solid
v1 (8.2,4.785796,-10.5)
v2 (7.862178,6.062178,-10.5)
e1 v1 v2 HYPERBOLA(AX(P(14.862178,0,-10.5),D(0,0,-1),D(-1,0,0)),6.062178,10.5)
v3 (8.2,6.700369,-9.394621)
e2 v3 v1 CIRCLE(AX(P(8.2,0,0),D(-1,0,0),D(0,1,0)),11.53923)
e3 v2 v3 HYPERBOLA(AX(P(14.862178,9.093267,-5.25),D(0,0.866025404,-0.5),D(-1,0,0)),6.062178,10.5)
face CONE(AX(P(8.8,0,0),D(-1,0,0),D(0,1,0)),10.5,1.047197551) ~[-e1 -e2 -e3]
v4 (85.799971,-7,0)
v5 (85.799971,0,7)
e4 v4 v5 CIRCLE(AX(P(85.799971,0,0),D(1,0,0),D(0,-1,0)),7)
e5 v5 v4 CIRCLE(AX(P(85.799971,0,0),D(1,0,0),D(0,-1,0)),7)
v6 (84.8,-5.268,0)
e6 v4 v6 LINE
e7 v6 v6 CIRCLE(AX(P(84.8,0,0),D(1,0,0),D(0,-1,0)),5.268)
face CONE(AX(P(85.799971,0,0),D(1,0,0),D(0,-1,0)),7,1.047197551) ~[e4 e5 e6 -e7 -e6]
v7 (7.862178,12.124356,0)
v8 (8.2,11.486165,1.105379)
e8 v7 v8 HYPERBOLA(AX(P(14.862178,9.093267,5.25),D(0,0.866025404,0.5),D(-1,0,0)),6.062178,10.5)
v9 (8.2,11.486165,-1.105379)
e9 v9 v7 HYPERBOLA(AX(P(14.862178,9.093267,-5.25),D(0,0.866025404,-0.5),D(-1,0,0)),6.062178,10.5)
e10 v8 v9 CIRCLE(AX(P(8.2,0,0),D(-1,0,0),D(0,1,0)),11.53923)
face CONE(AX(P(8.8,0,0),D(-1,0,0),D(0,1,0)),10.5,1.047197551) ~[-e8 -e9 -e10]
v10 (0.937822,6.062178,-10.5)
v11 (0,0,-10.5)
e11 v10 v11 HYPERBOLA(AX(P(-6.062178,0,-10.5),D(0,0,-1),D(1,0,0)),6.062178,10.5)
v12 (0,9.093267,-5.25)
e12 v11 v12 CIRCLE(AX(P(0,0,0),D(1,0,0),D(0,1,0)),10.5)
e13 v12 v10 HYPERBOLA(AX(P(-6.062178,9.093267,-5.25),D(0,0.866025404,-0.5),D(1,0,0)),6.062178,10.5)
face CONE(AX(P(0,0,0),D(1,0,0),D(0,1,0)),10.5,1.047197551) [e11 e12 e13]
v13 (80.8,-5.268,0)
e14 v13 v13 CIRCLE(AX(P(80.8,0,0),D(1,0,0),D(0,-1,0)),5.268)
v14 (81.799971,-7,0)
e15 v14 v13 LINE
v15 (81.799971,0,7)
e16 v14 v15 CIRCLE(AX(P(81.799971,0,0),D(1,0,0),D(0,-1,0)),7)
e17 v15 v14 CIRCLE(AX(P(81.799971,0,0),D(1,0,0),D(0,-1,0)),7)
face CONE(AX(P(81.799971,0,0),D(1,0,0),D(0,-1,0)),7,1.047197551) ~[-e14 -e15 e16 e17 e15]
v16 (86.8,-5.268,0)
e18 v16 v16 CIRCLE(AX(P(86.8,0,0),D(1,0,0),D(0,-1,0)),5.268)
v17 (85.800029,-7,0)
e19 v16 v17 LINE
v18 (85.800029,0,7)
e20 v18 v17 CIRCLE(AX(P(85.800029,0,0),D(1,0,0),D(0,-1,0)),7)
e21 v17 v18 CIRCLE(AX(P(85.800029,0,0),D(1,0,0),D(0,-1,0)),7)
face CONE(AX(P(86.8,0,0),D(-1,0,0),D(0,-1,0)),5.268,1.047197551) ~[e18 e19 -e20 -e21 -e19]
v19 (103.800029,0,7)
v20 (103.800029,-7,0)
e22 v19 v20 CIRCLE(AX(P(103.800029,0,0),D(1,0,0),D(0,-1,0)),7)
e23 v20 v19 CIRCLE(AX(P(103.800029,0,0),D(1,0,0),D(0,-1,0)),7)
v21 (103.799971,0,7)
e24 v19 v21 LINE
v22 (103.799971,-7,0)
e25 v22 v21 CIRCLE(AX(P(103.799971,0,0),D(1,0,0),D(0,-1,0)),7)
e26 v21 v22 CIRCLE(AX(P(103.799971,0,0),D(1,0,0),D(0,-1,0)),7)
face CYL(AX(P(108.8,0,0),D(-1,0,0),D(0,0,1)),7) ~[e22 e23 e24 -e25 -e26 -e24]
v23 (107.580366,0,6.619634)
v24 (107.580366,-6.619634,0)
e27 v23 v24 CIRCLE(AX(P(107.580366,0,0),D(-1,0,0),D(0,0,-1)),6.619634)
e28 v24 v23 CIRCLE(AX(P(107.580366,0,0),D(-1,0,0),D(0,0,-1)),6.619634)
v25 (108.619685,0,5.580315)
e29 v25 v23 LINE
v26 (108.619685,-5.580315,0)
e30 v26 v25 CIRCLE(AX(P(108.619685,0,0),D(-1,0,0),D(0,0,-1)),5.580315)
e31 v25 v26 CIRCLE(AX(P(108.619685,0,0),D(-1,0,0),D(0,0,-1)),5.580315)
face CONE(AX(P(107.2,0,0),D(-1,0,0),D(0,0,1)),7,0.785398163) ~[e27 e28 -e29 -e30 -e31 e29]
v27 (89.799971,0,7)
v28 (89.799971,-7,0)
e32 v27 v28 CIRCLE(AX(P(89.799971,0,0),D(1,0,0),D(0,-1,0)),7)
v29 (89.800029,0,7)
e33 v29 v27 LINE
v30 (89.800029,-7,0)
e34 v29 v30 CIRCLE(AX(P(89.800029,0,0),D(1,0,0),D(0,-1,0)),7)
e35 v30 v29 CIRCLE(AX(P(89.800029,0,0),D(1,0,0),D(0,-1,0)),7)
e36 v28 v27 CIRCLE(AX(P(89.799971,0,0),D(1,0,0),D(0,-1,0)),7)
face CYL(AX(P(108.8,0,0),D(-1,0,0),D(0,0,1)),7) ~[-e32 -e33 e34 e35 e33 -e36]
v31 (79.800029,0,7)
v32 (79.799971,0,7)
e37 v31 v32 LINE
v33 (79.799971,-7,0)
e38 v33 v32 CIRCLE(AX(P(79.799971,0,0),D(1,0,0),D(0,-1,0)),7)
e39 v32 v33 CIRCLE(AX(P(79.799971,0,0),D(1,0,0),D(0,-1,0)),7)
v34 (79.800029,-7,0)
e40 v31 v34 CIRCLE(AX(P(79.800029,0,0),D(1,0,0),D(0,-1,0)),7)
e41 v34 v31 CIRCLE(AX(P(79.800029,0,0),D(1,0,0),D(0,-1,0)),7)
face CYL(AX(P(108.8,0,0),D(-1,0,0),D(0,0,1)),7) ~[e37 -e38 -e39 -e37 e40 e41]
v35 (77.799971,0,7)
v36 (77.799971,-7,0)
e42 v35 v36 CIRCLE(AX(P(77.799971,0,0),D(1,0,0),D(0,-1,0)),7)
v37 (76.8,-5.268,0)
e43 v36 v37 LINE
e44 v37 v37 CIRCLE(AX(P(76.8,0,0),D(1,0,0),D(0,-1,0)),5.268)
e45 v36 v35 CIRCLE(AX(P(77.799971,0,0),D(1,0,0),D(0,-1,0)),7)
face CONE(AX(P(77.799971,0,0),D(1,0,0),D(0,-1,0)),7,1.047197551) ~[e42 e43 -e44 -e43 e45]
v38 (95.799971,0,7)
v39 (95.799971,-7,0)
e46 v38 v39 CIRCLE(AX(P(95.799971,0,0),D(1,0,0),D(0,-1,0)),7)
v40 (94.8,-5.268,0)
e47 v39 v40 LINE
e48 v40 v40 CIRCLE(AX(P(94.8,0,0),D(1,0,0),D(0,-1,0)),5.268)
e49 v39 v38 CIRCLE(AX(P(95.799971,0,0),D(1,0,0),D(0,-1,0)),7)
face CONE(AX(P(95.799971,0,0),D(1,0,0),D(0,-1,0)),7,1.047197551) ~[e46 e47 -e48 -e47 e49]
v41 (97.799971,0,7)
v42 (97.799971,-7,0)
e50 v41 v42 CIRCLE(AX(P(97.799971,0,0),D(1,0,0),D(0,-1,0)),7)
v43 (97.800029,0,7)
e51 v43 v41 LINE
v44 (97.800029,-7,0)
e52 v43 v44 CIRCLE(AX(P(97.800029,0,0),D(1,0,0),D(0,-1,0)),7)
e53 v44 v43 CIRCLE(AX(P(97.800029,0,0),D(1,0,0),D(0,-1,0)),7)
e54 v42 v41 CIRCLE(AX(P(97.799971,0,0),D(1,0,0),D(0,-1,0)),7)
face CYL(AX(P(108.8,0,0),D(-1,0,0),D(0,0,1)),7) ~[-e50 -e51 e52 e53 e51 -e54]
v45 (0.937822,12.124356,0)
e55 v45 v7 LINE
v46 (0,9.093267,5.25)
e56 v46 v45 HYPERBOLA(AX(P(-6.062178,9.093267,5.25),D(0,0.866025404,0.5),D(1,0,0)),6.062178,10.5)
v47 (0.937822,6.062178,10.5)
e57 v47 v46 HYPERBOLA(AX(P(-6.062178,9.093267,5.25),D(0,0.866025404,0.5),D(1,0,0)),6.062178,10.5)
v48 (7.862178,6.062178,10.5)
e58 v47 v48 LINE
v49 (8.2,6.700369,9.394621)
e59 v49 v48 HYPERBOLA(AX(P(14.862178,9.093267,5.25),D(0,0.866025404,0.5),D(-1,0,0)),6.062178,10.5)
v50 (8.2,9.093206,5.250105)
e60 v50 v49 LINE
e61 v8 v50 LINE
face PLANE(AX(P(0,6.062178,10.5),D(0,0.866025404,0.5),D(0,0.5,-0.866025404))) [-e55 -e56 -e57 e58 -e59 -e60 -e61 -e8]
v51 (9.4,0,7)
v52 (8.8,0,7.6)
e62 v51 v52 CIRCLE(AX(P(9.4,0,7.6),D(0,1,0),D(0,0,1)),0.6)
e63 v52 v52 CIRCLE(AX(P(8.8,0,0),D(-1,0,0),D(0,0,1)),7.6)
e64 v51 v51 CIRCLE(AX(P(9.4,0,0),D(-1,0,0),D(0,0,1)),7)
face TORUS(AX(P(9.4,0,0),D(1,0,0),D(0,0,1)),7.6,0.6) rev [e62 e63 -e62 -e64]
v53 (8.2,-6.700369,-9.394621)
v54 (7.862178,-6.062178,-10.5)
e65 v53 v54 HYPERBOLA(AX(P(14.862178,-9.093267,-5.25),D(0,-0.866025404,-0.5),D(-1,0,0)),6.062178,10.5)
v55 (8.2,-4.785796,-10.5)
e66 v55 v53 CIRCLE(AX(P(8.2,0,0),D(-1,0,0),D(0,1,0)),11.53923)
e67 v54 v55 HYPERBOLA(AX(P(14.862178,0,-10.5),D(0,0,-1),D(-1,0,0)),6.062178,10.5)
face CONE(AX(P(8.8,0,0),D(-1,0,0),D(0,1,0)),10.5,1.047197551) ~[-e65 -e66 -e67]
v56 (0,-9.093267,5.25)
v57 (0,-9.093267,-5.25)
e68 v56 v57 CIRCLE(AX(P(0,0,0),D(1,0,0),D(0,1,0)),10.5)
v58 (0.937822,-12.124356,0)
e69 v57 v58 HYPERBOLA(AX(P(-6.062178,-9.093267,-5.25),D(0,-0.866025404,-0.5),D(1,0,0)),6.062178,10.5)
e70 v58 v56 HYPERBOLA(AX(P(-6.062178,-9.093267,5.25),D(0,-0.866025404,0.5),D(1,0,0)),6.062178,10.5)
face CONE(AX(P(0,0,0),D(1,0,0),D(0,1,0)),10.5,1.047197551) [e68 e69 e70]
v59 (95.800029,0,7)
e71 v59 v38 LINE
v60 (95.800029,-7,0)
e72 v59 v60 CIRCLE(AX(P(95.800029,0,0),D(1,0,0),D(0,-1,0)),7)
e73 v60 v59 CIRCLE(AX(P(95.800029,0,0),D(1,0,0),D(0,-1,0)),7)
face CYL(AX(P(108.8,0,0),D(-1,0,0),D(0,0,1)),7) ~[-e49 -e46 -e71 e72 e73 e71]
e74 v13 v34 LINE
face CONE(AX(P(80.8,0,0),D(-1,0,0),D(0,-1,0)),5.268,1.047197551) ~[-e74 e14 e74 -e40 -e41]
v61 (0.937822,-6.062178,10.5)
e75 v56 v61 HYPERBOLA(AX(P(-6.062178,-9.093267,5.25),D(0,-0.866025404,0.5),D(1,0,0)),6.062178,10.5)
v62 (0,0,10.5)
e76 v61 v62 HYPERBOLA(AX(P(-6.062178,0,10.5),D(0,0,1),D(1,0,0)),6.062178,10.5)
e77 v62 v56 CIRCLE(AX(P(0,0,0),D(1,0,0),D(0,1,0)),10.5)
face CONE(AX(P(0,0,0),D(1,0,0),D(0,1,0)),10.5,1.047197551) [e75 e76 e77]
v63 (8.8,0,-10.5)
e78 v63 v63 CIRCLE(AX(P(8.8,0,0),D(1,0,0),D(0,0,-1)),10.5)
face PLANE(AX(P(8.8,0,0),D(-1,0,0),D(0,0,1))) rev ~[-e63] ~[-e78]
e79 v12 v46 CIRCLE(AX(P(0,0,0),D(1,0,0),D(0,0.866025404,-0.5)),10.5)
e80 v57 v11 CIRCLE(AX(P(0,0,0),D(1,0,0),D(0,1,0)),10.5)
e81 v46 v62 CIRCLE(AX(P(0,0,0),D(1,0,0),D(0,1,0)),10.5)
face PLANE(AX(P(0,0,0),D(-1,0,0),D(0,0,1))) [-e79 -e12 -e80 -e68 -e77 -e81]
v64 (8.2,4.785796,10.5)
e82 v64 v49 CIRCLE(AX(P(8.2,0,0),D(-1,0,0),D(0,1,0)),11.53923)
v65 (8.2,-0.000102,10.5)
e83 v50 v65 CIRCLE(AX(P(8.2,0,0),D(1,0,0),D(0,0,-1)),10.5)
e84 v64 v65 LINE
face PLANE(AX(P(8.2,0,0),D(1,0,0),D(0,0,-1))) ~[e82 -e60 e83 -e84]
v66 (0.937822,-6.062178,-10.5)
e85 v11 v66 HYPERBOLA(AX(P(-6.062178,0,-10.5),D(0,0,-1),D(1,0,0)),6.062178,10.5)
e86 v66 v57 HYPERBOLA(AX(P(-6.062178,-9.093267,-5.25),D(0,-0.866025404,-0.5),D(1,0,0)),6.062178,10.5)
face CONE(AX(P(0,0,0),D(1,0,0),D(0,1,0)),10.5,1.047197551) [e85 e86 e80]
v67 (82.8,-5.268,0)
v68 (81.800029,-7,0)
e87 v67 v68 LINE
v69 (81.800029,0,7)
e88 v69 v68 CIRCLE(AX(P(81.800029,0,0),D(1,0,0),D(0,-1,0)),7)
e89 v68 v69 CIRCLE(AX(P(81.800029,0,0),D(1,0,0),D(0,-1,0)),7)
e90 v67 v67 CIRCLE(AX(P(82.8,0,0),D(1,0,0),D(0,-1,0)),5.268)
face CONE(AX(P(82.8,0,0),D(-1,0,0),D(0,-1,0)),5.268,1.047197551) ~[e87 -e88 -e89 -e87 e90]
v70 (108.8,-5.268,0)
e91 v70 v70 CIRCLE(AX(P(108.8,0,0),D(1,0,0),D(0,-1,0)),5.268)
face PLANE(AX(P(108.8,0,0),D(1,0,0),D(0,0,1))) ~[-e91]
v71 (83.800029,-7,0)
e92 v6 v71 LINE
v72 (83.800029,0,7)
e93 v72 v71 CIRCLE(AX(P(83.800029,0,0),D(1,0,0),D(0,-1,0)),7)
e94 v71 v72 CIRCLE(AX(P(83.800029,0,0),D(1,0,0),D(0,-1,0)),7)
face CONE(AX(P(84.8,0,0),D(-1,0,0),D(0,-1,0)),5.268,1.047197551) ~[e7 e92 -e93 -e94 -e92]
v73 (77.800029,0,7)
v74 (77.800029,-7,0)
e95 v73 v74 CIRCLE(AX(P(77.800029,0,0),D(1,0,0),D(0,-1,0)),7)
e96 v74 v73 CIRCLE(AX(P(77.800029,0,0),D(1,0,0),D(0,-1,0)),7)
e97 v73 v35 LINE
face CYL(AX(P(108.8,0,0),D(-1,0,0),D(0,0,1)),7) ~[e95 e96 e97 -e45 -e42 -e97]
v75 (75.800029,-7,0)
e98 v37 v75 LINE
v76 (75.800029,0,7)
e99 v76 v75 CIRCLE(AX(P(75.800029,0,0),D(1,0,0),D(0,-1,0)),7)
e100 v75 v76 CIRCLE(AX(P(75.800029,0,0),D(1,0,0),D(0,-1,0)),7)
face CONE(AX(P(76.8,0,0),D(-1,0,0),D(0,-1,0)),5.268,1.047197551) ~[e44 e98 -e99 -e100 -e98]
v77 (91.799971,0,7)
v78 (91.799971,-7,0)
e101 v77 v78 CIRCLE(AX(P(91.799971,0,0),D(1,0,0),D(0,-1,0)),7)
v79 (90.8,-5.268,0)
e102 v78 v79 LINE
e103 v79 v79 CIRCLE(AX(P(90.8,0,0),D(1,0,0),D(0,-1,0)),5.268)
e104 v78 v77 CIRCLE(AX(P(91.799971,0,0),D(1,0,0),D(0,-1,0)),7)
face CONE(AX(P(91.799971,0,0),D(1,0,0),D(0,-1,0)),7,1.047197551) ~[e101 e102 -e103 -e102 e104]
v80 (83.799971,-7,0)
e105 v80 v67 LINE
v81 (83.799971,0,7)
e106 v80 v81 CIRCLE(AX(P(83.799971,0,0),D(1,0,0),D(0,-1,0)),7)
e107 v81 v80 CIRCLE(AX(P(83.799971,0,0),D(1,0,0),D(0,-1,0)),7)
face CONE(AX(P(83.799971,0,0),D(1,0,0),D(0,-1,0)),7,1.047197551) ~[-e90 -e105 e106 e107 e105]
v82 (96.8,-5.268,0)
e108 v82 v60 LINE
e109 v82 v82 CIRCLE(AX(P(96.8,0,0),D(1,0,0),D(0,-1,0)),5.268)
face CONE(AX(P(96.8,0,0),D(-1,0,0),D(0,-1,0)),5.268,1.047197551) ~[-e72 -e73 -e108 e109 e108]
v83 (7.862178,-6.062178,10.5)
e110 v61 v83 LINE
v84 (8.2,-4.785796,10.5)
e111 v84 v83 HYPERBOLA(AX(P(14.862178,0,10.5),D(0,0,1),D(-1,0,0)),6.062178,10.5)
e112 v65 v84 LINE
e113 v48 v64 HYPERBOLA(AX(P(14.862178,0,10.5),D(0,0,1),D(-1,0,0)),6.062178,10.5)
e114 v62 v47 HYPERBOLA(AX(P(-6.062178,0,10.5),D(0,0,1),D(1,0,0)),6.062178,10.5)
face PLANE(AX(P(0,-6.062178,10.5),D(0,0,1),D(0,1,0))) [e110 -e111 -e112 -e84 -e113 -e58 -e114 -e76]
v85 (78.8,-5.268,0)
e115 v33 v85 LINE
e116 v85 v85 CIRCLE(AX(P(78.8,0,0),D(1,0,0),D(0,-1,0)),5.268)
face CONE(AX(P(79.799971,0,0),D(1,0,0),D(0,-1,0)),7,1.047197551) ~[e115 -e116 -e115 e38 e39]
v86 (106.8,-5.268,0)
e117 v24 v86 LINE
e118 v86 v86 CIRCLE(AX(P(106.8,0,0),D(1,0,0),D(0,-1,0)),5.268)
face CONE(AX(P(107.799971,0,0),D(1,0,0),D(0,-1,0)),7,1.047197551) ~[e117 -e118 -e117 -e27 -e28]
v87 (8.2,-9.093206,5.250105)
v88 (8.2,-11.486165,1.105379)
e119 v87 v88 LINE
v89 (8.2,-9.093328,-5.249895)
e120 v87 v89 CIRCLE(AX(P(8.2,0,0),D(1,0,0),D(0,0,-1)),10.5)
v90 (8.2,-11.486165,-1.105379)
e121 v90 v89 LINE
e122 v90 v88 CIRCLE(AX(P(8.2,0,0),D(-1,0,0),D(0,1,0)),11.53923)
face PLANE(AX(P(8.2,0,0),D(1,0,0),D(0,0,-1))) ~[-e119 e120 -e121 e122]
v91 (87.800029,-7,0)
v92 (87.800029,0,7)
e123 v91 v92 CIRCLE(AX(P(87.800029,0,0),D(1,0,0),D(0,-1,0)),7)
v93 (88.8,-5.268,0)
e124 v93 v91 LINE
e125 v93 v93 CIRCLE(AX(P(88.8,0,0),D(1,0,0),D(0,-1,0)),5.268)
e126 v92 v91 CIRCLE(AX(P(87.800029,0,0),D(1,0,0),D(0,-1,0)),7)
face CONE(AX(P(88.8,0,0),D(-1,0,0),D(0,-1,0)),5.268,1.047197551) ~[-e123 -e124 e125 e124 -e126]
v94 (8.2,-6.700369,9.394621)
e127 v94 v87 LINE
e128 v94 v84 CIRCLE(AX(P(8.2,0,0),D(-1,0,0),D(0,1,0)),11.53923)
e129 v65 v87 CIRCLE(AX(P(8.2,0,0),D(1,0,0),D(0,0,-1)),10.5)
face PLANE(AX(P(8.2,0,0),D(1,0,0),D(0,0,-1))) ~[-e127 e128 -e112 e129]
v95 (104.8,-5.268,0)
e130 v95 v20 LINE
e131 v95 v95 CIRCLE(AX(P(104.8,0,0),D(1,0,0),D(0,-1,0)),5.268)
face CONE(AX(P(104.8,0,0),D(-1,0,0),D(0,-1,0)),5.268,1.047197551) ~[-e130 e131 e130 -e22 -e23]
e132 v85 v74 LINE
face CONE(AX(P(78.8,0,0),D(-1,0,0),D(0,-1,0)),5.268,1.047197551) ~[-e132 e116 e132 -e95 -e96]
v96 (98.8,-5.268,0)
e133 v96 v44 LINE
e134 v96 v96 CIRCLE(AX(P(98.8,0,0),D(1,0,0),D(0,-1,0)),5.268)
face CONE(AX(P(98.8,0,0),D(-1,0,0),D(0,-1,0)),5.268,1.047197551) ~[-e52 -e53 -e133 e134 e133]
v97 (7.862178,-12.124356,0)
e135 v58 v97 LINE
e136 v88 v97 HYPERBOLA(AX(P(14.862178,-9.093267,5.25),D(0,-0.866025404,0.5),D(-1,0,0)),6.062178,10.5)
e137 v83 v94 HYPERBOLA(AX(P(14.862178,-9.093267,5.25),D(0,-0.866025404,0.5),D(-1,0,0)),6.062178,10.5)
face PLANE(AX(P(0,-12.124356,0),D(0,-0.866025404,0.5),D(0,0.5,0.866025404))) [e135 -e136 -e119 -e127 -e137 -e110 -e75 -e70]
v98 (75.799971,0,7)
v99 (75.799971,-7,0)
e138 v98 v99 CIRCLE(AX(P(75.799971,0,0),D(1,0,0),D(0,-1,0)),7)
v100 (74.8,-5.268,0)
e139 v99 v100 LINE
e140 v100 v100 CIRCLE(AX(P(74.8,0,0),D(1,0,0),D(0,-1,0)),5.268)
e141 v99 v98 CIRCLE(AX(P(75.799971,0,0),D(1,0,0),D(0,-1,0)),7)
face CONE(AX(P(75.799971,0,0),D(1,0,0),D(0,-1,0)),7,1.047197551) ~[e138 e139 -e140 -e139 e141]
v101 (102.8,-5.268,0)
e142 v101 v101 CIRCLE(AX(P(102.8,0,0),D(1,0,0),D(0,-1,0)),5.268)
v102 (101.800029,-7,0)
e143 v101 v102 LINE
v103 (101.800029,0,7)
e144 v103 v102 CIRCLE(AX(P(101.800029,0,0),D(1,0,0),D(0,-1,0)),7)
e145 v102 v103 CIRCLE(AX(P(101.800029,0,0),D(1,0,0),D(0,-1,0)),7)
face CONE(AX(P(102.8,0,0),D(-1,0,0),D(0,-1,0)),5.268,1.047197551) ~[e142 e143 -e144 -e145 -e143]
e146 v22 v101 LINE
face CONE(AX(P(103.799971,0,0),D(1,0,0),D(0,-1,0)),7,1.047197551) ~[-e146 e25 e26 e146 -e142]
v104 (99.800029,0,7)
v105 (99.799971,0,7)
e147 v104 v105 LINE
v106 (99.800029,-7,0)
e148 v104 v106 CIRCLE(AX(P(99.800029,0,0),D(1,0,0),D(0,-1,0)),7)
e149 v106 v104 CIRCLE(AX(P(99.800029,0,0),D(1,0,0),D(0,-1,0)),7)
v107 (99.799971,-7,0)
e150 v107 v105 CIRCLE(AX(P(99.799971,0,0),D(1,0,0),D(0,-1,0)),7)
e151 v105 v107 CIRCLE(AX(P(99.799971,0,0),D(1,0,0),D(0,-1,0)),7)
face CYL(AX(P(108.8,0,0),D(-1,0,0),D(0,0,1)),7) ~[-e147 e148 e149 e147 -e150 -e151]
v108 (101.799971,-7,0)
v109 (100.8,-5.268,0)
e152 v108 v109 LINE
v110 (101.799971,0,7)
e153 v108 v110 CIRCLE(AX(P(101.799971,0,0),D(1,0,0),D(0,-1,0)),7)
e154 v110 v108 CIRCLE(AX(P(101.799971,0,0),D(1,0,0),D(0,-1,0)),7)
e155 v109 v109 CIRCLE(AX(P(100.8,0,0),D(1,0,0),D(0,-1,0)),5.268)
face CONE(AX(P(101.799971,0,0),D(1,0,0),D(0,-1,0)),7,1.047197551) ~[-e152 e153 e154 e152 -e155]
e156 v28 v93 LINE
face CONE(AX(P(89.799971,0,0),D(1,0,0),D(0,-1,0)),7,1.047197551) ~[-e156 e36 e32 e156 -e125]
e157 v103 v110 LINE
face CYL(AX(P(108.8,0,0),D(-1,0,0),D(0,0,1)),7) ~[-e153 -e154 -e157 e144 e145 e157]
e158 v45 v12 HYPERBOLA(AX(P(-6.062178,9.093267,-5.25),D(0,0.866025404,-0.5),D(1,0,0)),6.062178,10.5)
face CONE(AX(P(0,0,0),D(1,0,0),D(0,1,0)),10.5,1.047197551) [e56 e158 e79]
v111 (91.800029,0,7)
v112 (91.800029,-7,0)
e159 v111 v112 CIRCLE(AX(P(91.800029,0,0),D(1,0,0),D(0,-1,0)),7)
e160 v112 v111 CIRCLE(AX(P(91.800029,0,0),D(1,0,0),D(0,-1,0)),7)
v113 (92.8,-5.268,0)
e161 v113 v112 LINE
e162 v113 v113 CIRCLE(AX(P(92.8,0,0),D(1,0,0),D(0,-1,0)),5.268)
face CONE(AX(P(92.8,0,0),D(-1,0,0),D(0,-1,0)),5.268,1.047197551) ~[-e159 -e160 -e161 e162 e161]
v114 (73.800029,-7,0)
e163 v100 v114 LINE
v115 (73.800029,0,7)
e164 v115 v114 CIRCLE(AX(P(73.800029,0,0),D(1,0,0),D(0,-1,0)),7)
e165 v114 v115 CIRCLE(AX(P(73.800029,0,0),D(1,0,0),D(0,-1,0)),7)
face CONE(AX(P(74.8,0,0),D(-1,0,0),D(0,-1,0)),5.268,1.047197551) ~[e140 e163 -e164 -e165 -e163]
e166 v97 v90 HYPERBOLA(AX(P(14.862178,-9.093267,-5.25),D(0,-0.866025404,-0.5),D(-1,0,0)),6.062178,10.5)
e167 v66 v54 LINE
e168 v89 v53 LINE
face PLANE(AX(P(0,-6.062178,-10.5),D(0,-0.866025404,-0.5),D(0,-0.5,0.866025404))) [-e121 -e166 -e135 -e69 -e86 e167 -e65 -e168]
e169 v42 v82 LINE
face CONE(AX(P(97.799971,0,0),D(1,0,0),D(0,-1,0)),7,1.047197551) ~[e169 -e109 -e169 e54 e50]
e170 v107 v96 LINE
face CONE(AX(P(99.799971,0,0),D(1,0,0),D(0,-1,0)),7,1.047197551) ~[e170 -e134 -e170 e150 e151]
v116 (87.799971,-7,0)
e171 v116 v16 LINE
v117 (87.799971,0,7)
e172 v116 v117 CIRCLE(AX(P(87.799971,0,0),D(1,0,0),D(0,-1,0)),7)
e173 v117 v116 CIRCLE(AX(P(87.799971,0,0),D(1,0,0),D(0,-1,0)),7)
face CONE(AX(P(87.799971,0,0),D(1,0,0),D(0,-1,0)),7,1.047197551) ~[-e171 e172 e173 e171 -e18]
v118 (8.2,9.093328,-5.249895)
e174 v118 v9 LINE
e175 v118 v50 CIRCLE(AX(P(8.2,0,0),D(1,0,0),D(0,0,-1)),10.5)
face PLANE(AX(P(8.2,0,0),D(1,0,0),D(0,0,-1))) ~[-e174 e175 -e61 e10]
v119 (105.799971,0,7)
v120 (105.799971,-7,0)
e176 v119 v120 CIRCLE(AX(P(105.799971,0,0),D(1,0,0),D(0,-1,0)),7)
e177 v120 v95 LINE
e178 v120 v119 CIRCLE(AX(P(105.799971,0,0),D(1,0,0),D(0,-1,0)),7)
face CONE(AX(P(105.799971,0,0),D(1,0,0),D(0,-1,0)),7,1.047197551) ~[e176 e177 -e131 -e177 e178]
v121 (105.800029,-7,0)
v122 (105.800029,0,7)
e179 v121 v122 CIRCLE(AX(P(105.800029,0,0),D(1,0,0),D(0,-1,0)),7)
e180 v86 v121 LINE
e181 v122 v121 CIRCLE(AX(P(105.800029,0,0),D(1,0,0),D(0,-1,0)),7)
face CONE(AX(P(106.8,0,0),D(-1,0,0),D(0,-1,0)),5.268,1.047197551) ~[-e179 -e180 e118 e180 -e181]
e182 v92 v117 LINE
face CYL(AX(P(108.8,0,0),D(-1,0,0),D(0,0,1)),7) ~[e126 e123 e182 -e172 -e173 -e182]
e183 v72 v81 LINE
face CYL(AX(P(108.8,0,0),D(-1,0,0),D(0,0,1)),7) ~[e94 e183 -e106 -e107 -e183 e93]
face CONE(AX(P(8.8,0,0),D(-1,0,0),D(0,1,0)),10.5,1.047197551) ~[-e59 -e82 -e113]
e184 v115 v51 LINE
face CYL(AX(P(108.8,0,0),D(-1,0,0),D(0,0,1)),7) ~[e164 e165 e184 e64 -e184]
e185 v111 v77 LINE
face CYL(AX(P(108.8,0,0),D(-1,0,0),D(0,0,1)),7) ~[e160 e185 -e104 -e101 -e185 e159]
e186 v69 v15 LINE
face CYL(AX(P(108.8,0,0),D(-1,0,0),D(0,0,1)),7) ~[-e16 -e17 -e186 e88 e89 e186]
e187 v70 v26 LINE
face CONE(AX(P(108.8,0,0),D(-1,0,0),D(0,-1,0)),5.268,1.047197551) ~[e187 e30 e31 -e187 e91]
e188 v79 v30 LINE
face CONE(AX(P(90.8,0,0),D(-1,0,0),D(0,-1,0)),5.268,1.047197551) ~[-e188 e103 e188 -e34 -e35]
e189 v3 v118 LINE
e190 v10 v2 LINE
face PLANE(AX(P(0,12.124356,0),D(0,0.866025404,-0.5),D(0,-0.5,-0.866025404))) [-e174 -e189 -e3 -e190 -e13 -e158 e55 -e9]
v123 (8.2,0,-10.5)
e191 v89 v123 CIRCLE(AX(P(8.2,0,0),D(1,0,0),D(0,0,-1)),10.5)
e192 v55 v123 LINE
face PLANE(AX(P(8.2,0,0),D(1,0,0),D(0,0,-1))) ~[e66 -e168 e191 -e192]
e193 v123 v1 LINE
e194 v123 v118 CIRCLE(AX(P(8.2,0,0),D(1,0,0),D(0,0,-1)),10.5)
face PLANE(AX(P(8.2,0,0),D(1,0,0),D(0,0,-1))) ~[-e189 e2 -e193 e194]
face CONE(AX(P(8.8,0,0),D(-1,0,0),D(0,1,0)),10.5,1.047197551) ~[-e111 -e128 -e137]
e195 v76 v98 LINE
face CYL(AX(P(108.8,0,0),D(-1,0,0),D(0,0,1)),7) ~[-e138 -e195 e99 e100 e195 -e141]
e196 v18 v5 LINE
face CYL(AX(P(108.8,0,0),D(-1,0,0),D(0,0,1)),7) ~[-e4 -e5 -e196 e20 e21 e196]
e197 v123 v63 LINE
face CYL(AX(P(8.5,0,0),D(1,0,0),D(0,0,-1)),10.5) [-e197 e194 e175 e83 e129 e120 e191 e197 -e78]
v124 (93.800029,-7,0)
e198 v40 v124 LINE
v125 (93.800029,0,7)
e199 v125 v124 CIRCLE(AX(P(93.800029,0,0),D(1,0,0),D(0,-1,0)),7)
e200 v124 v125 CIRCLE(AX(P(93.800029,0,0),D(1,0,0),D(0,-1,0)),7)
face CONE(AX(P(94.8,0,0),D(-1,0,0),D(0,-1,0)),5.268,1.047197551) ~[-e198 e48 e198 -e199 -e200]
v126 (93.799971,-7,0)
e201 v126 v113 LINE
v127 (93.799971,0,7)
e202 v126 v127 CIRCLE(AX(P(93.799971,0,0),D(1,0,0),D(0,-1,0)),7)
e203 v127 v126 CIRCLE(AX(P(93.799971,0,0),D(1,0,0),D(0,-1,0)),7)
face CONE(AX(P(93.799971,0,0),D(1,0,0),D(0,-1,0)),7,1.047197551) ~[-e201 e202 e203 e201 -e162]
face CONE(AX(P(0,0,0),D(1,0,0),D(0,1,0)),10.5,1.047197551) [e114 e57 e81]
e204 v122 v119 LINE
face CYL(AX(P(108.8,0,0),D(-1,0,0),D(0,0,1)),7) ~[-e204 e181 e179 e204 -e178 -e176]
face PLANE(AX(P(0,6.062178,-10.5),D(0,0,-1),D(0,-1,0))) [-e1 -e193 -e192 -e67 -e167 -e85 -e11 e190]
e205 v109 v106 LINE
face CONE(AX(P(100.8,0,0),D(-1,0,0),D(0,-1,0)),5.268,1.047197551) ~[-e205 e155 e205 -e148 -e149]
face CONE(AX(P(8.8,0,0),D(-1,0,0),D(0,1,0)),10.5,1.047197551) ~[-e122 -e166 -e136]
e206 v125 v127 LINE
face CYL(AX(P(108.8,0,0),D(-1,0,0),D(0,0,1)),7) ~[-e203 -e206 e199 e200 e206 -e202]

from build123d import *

# Parameters (mm, degrees)
EXTRUDE_517_DEPTH      = 8.8
SKETCH_4_W             = 0.6
SKETCH_4_H             = 11.624355653
CHAMFER_2189_SIZE      = 1.6
FILLET_2240_R          = 0.6
PATTERN_LINEAR_1_COUNT = 18
PATTERN_LINEAR_1_PITCH = 2


with BuildPart() as part:
    # 草图1 → Extrude 517 (new body)
    with BuildSketch(Plane(origin=(0, 0, 0), x_dir=(0, 0, -1), z_dir=(1, 0, 0))):
        Polygon((10.5, 6.062177826), (10.5, -6.062177826), (0, -12.124355653), (-10.5, -6.062177826), (-10.5, 6.062177826), (0, 12.124355653), align=None)
    extrude(amount=EXTRUDE_517_DEPTH)

    # 草图2 → 凸台-旋转1 (revolve)
    with BuildSketch(Plane.XY, mode=Mode.PRIVATE) as revolve_1_sk:
        Polygon((0, 0), (108.8, 0), (108.8, 5.268), (108.8, 7), (27.8072, 7), (0, 7), align=None)
    revolve(revolve_1_sk.sketch.rotate(Axis((0, 0, 0), (1, 0, 0)), 90), axis=Axis((0, 0, 0), (1, 0, 0)))

    # 草图3 → 切除-旋转1 (revolve, cut)
    with BuildSketch(Plane.XY):
        Polygon((0, 10.5), (3.824573519, 17.124355653), (3.824573519, 22.124355653), (-10, 22.124355653), (-10, 10.5), align=None)
    revolve(axis=Axis((0, 0, 0), (1, 0, 0)), mode=Mode.SUBTRACT)

    # 草图5 → 切除-旋转2 (revolve, cut)
    with BuildSketch(Plane.XY):
        Polygon((8.8, 10.5), (4.975426481, 17.124355653), (4.975426481, 22.124355653), (14.975426481, 22.124355653), (14.975426481, 10.5), align=None)
    revolve(axis=Axis((0, 0, 0), (1, 0, 0)), mode=Mode.SUBTRACT)

    # 草图4 → 切除-旋转3 (revolve, cut)
    with BuildSketch(Plane.XY, mode=Mode.PRIVATE) as cut_revolve_3_sk:
        with Locations((8.5, 16.312177827)):
            Rectangle(SKETCH_4_W, SKETCH_4_H)
    revolve(cut_revolve_3_sk.sketch.rotate(Axis((0, 0, 0), (1, 0, 0)), 270), axis=Axis((0, 0, 0), (1, 0, 0)), mode=Mode.SUBTRACT)

    # Chamfer 2189
    chamfer_2189_edges = [part.edges().sort_by_distance(p)[0] for p in [
        (108.8, 0, -7),
    ]]
    chamfer(chamfer_2189_edges, length=CHAMFER_2189_SIZE)

    # Fillet 2240
    fillet_2240_edges = [part.edges().sort_by_distance(p)[0] for p in [
        (8.8, 0, -7),
    ]]
    fillet(fillet_2240_edges, radius=FILLET_2240_R)

    # 草图6 → 切除-旋转4 (revolve, cut)
    with BuildSketch(Plane.XY):
        Polygon((74.8, -5.268), (73.800029334, -7), (73.800029334, -8.75), (75.799970666, -8.75), (75.799970666, -7), align=None)
    cut_revolve_4 = revolve(axis=Axis((-3.175, 0, 0), (1, 0, 0)), mode=Mode.SUBTRACT)

    # 阵列(线性)1: 切除-旋转4 ×18
    with Locations(*[(i * PATTERN_LINEAR_1_PITCH, 0, 0) for i in range(1, PATTERN_LINEAR_1_COUNT)]):
        add(cut_revolve_4, mode=Mode.SUBTRACT)


solid = part.part
